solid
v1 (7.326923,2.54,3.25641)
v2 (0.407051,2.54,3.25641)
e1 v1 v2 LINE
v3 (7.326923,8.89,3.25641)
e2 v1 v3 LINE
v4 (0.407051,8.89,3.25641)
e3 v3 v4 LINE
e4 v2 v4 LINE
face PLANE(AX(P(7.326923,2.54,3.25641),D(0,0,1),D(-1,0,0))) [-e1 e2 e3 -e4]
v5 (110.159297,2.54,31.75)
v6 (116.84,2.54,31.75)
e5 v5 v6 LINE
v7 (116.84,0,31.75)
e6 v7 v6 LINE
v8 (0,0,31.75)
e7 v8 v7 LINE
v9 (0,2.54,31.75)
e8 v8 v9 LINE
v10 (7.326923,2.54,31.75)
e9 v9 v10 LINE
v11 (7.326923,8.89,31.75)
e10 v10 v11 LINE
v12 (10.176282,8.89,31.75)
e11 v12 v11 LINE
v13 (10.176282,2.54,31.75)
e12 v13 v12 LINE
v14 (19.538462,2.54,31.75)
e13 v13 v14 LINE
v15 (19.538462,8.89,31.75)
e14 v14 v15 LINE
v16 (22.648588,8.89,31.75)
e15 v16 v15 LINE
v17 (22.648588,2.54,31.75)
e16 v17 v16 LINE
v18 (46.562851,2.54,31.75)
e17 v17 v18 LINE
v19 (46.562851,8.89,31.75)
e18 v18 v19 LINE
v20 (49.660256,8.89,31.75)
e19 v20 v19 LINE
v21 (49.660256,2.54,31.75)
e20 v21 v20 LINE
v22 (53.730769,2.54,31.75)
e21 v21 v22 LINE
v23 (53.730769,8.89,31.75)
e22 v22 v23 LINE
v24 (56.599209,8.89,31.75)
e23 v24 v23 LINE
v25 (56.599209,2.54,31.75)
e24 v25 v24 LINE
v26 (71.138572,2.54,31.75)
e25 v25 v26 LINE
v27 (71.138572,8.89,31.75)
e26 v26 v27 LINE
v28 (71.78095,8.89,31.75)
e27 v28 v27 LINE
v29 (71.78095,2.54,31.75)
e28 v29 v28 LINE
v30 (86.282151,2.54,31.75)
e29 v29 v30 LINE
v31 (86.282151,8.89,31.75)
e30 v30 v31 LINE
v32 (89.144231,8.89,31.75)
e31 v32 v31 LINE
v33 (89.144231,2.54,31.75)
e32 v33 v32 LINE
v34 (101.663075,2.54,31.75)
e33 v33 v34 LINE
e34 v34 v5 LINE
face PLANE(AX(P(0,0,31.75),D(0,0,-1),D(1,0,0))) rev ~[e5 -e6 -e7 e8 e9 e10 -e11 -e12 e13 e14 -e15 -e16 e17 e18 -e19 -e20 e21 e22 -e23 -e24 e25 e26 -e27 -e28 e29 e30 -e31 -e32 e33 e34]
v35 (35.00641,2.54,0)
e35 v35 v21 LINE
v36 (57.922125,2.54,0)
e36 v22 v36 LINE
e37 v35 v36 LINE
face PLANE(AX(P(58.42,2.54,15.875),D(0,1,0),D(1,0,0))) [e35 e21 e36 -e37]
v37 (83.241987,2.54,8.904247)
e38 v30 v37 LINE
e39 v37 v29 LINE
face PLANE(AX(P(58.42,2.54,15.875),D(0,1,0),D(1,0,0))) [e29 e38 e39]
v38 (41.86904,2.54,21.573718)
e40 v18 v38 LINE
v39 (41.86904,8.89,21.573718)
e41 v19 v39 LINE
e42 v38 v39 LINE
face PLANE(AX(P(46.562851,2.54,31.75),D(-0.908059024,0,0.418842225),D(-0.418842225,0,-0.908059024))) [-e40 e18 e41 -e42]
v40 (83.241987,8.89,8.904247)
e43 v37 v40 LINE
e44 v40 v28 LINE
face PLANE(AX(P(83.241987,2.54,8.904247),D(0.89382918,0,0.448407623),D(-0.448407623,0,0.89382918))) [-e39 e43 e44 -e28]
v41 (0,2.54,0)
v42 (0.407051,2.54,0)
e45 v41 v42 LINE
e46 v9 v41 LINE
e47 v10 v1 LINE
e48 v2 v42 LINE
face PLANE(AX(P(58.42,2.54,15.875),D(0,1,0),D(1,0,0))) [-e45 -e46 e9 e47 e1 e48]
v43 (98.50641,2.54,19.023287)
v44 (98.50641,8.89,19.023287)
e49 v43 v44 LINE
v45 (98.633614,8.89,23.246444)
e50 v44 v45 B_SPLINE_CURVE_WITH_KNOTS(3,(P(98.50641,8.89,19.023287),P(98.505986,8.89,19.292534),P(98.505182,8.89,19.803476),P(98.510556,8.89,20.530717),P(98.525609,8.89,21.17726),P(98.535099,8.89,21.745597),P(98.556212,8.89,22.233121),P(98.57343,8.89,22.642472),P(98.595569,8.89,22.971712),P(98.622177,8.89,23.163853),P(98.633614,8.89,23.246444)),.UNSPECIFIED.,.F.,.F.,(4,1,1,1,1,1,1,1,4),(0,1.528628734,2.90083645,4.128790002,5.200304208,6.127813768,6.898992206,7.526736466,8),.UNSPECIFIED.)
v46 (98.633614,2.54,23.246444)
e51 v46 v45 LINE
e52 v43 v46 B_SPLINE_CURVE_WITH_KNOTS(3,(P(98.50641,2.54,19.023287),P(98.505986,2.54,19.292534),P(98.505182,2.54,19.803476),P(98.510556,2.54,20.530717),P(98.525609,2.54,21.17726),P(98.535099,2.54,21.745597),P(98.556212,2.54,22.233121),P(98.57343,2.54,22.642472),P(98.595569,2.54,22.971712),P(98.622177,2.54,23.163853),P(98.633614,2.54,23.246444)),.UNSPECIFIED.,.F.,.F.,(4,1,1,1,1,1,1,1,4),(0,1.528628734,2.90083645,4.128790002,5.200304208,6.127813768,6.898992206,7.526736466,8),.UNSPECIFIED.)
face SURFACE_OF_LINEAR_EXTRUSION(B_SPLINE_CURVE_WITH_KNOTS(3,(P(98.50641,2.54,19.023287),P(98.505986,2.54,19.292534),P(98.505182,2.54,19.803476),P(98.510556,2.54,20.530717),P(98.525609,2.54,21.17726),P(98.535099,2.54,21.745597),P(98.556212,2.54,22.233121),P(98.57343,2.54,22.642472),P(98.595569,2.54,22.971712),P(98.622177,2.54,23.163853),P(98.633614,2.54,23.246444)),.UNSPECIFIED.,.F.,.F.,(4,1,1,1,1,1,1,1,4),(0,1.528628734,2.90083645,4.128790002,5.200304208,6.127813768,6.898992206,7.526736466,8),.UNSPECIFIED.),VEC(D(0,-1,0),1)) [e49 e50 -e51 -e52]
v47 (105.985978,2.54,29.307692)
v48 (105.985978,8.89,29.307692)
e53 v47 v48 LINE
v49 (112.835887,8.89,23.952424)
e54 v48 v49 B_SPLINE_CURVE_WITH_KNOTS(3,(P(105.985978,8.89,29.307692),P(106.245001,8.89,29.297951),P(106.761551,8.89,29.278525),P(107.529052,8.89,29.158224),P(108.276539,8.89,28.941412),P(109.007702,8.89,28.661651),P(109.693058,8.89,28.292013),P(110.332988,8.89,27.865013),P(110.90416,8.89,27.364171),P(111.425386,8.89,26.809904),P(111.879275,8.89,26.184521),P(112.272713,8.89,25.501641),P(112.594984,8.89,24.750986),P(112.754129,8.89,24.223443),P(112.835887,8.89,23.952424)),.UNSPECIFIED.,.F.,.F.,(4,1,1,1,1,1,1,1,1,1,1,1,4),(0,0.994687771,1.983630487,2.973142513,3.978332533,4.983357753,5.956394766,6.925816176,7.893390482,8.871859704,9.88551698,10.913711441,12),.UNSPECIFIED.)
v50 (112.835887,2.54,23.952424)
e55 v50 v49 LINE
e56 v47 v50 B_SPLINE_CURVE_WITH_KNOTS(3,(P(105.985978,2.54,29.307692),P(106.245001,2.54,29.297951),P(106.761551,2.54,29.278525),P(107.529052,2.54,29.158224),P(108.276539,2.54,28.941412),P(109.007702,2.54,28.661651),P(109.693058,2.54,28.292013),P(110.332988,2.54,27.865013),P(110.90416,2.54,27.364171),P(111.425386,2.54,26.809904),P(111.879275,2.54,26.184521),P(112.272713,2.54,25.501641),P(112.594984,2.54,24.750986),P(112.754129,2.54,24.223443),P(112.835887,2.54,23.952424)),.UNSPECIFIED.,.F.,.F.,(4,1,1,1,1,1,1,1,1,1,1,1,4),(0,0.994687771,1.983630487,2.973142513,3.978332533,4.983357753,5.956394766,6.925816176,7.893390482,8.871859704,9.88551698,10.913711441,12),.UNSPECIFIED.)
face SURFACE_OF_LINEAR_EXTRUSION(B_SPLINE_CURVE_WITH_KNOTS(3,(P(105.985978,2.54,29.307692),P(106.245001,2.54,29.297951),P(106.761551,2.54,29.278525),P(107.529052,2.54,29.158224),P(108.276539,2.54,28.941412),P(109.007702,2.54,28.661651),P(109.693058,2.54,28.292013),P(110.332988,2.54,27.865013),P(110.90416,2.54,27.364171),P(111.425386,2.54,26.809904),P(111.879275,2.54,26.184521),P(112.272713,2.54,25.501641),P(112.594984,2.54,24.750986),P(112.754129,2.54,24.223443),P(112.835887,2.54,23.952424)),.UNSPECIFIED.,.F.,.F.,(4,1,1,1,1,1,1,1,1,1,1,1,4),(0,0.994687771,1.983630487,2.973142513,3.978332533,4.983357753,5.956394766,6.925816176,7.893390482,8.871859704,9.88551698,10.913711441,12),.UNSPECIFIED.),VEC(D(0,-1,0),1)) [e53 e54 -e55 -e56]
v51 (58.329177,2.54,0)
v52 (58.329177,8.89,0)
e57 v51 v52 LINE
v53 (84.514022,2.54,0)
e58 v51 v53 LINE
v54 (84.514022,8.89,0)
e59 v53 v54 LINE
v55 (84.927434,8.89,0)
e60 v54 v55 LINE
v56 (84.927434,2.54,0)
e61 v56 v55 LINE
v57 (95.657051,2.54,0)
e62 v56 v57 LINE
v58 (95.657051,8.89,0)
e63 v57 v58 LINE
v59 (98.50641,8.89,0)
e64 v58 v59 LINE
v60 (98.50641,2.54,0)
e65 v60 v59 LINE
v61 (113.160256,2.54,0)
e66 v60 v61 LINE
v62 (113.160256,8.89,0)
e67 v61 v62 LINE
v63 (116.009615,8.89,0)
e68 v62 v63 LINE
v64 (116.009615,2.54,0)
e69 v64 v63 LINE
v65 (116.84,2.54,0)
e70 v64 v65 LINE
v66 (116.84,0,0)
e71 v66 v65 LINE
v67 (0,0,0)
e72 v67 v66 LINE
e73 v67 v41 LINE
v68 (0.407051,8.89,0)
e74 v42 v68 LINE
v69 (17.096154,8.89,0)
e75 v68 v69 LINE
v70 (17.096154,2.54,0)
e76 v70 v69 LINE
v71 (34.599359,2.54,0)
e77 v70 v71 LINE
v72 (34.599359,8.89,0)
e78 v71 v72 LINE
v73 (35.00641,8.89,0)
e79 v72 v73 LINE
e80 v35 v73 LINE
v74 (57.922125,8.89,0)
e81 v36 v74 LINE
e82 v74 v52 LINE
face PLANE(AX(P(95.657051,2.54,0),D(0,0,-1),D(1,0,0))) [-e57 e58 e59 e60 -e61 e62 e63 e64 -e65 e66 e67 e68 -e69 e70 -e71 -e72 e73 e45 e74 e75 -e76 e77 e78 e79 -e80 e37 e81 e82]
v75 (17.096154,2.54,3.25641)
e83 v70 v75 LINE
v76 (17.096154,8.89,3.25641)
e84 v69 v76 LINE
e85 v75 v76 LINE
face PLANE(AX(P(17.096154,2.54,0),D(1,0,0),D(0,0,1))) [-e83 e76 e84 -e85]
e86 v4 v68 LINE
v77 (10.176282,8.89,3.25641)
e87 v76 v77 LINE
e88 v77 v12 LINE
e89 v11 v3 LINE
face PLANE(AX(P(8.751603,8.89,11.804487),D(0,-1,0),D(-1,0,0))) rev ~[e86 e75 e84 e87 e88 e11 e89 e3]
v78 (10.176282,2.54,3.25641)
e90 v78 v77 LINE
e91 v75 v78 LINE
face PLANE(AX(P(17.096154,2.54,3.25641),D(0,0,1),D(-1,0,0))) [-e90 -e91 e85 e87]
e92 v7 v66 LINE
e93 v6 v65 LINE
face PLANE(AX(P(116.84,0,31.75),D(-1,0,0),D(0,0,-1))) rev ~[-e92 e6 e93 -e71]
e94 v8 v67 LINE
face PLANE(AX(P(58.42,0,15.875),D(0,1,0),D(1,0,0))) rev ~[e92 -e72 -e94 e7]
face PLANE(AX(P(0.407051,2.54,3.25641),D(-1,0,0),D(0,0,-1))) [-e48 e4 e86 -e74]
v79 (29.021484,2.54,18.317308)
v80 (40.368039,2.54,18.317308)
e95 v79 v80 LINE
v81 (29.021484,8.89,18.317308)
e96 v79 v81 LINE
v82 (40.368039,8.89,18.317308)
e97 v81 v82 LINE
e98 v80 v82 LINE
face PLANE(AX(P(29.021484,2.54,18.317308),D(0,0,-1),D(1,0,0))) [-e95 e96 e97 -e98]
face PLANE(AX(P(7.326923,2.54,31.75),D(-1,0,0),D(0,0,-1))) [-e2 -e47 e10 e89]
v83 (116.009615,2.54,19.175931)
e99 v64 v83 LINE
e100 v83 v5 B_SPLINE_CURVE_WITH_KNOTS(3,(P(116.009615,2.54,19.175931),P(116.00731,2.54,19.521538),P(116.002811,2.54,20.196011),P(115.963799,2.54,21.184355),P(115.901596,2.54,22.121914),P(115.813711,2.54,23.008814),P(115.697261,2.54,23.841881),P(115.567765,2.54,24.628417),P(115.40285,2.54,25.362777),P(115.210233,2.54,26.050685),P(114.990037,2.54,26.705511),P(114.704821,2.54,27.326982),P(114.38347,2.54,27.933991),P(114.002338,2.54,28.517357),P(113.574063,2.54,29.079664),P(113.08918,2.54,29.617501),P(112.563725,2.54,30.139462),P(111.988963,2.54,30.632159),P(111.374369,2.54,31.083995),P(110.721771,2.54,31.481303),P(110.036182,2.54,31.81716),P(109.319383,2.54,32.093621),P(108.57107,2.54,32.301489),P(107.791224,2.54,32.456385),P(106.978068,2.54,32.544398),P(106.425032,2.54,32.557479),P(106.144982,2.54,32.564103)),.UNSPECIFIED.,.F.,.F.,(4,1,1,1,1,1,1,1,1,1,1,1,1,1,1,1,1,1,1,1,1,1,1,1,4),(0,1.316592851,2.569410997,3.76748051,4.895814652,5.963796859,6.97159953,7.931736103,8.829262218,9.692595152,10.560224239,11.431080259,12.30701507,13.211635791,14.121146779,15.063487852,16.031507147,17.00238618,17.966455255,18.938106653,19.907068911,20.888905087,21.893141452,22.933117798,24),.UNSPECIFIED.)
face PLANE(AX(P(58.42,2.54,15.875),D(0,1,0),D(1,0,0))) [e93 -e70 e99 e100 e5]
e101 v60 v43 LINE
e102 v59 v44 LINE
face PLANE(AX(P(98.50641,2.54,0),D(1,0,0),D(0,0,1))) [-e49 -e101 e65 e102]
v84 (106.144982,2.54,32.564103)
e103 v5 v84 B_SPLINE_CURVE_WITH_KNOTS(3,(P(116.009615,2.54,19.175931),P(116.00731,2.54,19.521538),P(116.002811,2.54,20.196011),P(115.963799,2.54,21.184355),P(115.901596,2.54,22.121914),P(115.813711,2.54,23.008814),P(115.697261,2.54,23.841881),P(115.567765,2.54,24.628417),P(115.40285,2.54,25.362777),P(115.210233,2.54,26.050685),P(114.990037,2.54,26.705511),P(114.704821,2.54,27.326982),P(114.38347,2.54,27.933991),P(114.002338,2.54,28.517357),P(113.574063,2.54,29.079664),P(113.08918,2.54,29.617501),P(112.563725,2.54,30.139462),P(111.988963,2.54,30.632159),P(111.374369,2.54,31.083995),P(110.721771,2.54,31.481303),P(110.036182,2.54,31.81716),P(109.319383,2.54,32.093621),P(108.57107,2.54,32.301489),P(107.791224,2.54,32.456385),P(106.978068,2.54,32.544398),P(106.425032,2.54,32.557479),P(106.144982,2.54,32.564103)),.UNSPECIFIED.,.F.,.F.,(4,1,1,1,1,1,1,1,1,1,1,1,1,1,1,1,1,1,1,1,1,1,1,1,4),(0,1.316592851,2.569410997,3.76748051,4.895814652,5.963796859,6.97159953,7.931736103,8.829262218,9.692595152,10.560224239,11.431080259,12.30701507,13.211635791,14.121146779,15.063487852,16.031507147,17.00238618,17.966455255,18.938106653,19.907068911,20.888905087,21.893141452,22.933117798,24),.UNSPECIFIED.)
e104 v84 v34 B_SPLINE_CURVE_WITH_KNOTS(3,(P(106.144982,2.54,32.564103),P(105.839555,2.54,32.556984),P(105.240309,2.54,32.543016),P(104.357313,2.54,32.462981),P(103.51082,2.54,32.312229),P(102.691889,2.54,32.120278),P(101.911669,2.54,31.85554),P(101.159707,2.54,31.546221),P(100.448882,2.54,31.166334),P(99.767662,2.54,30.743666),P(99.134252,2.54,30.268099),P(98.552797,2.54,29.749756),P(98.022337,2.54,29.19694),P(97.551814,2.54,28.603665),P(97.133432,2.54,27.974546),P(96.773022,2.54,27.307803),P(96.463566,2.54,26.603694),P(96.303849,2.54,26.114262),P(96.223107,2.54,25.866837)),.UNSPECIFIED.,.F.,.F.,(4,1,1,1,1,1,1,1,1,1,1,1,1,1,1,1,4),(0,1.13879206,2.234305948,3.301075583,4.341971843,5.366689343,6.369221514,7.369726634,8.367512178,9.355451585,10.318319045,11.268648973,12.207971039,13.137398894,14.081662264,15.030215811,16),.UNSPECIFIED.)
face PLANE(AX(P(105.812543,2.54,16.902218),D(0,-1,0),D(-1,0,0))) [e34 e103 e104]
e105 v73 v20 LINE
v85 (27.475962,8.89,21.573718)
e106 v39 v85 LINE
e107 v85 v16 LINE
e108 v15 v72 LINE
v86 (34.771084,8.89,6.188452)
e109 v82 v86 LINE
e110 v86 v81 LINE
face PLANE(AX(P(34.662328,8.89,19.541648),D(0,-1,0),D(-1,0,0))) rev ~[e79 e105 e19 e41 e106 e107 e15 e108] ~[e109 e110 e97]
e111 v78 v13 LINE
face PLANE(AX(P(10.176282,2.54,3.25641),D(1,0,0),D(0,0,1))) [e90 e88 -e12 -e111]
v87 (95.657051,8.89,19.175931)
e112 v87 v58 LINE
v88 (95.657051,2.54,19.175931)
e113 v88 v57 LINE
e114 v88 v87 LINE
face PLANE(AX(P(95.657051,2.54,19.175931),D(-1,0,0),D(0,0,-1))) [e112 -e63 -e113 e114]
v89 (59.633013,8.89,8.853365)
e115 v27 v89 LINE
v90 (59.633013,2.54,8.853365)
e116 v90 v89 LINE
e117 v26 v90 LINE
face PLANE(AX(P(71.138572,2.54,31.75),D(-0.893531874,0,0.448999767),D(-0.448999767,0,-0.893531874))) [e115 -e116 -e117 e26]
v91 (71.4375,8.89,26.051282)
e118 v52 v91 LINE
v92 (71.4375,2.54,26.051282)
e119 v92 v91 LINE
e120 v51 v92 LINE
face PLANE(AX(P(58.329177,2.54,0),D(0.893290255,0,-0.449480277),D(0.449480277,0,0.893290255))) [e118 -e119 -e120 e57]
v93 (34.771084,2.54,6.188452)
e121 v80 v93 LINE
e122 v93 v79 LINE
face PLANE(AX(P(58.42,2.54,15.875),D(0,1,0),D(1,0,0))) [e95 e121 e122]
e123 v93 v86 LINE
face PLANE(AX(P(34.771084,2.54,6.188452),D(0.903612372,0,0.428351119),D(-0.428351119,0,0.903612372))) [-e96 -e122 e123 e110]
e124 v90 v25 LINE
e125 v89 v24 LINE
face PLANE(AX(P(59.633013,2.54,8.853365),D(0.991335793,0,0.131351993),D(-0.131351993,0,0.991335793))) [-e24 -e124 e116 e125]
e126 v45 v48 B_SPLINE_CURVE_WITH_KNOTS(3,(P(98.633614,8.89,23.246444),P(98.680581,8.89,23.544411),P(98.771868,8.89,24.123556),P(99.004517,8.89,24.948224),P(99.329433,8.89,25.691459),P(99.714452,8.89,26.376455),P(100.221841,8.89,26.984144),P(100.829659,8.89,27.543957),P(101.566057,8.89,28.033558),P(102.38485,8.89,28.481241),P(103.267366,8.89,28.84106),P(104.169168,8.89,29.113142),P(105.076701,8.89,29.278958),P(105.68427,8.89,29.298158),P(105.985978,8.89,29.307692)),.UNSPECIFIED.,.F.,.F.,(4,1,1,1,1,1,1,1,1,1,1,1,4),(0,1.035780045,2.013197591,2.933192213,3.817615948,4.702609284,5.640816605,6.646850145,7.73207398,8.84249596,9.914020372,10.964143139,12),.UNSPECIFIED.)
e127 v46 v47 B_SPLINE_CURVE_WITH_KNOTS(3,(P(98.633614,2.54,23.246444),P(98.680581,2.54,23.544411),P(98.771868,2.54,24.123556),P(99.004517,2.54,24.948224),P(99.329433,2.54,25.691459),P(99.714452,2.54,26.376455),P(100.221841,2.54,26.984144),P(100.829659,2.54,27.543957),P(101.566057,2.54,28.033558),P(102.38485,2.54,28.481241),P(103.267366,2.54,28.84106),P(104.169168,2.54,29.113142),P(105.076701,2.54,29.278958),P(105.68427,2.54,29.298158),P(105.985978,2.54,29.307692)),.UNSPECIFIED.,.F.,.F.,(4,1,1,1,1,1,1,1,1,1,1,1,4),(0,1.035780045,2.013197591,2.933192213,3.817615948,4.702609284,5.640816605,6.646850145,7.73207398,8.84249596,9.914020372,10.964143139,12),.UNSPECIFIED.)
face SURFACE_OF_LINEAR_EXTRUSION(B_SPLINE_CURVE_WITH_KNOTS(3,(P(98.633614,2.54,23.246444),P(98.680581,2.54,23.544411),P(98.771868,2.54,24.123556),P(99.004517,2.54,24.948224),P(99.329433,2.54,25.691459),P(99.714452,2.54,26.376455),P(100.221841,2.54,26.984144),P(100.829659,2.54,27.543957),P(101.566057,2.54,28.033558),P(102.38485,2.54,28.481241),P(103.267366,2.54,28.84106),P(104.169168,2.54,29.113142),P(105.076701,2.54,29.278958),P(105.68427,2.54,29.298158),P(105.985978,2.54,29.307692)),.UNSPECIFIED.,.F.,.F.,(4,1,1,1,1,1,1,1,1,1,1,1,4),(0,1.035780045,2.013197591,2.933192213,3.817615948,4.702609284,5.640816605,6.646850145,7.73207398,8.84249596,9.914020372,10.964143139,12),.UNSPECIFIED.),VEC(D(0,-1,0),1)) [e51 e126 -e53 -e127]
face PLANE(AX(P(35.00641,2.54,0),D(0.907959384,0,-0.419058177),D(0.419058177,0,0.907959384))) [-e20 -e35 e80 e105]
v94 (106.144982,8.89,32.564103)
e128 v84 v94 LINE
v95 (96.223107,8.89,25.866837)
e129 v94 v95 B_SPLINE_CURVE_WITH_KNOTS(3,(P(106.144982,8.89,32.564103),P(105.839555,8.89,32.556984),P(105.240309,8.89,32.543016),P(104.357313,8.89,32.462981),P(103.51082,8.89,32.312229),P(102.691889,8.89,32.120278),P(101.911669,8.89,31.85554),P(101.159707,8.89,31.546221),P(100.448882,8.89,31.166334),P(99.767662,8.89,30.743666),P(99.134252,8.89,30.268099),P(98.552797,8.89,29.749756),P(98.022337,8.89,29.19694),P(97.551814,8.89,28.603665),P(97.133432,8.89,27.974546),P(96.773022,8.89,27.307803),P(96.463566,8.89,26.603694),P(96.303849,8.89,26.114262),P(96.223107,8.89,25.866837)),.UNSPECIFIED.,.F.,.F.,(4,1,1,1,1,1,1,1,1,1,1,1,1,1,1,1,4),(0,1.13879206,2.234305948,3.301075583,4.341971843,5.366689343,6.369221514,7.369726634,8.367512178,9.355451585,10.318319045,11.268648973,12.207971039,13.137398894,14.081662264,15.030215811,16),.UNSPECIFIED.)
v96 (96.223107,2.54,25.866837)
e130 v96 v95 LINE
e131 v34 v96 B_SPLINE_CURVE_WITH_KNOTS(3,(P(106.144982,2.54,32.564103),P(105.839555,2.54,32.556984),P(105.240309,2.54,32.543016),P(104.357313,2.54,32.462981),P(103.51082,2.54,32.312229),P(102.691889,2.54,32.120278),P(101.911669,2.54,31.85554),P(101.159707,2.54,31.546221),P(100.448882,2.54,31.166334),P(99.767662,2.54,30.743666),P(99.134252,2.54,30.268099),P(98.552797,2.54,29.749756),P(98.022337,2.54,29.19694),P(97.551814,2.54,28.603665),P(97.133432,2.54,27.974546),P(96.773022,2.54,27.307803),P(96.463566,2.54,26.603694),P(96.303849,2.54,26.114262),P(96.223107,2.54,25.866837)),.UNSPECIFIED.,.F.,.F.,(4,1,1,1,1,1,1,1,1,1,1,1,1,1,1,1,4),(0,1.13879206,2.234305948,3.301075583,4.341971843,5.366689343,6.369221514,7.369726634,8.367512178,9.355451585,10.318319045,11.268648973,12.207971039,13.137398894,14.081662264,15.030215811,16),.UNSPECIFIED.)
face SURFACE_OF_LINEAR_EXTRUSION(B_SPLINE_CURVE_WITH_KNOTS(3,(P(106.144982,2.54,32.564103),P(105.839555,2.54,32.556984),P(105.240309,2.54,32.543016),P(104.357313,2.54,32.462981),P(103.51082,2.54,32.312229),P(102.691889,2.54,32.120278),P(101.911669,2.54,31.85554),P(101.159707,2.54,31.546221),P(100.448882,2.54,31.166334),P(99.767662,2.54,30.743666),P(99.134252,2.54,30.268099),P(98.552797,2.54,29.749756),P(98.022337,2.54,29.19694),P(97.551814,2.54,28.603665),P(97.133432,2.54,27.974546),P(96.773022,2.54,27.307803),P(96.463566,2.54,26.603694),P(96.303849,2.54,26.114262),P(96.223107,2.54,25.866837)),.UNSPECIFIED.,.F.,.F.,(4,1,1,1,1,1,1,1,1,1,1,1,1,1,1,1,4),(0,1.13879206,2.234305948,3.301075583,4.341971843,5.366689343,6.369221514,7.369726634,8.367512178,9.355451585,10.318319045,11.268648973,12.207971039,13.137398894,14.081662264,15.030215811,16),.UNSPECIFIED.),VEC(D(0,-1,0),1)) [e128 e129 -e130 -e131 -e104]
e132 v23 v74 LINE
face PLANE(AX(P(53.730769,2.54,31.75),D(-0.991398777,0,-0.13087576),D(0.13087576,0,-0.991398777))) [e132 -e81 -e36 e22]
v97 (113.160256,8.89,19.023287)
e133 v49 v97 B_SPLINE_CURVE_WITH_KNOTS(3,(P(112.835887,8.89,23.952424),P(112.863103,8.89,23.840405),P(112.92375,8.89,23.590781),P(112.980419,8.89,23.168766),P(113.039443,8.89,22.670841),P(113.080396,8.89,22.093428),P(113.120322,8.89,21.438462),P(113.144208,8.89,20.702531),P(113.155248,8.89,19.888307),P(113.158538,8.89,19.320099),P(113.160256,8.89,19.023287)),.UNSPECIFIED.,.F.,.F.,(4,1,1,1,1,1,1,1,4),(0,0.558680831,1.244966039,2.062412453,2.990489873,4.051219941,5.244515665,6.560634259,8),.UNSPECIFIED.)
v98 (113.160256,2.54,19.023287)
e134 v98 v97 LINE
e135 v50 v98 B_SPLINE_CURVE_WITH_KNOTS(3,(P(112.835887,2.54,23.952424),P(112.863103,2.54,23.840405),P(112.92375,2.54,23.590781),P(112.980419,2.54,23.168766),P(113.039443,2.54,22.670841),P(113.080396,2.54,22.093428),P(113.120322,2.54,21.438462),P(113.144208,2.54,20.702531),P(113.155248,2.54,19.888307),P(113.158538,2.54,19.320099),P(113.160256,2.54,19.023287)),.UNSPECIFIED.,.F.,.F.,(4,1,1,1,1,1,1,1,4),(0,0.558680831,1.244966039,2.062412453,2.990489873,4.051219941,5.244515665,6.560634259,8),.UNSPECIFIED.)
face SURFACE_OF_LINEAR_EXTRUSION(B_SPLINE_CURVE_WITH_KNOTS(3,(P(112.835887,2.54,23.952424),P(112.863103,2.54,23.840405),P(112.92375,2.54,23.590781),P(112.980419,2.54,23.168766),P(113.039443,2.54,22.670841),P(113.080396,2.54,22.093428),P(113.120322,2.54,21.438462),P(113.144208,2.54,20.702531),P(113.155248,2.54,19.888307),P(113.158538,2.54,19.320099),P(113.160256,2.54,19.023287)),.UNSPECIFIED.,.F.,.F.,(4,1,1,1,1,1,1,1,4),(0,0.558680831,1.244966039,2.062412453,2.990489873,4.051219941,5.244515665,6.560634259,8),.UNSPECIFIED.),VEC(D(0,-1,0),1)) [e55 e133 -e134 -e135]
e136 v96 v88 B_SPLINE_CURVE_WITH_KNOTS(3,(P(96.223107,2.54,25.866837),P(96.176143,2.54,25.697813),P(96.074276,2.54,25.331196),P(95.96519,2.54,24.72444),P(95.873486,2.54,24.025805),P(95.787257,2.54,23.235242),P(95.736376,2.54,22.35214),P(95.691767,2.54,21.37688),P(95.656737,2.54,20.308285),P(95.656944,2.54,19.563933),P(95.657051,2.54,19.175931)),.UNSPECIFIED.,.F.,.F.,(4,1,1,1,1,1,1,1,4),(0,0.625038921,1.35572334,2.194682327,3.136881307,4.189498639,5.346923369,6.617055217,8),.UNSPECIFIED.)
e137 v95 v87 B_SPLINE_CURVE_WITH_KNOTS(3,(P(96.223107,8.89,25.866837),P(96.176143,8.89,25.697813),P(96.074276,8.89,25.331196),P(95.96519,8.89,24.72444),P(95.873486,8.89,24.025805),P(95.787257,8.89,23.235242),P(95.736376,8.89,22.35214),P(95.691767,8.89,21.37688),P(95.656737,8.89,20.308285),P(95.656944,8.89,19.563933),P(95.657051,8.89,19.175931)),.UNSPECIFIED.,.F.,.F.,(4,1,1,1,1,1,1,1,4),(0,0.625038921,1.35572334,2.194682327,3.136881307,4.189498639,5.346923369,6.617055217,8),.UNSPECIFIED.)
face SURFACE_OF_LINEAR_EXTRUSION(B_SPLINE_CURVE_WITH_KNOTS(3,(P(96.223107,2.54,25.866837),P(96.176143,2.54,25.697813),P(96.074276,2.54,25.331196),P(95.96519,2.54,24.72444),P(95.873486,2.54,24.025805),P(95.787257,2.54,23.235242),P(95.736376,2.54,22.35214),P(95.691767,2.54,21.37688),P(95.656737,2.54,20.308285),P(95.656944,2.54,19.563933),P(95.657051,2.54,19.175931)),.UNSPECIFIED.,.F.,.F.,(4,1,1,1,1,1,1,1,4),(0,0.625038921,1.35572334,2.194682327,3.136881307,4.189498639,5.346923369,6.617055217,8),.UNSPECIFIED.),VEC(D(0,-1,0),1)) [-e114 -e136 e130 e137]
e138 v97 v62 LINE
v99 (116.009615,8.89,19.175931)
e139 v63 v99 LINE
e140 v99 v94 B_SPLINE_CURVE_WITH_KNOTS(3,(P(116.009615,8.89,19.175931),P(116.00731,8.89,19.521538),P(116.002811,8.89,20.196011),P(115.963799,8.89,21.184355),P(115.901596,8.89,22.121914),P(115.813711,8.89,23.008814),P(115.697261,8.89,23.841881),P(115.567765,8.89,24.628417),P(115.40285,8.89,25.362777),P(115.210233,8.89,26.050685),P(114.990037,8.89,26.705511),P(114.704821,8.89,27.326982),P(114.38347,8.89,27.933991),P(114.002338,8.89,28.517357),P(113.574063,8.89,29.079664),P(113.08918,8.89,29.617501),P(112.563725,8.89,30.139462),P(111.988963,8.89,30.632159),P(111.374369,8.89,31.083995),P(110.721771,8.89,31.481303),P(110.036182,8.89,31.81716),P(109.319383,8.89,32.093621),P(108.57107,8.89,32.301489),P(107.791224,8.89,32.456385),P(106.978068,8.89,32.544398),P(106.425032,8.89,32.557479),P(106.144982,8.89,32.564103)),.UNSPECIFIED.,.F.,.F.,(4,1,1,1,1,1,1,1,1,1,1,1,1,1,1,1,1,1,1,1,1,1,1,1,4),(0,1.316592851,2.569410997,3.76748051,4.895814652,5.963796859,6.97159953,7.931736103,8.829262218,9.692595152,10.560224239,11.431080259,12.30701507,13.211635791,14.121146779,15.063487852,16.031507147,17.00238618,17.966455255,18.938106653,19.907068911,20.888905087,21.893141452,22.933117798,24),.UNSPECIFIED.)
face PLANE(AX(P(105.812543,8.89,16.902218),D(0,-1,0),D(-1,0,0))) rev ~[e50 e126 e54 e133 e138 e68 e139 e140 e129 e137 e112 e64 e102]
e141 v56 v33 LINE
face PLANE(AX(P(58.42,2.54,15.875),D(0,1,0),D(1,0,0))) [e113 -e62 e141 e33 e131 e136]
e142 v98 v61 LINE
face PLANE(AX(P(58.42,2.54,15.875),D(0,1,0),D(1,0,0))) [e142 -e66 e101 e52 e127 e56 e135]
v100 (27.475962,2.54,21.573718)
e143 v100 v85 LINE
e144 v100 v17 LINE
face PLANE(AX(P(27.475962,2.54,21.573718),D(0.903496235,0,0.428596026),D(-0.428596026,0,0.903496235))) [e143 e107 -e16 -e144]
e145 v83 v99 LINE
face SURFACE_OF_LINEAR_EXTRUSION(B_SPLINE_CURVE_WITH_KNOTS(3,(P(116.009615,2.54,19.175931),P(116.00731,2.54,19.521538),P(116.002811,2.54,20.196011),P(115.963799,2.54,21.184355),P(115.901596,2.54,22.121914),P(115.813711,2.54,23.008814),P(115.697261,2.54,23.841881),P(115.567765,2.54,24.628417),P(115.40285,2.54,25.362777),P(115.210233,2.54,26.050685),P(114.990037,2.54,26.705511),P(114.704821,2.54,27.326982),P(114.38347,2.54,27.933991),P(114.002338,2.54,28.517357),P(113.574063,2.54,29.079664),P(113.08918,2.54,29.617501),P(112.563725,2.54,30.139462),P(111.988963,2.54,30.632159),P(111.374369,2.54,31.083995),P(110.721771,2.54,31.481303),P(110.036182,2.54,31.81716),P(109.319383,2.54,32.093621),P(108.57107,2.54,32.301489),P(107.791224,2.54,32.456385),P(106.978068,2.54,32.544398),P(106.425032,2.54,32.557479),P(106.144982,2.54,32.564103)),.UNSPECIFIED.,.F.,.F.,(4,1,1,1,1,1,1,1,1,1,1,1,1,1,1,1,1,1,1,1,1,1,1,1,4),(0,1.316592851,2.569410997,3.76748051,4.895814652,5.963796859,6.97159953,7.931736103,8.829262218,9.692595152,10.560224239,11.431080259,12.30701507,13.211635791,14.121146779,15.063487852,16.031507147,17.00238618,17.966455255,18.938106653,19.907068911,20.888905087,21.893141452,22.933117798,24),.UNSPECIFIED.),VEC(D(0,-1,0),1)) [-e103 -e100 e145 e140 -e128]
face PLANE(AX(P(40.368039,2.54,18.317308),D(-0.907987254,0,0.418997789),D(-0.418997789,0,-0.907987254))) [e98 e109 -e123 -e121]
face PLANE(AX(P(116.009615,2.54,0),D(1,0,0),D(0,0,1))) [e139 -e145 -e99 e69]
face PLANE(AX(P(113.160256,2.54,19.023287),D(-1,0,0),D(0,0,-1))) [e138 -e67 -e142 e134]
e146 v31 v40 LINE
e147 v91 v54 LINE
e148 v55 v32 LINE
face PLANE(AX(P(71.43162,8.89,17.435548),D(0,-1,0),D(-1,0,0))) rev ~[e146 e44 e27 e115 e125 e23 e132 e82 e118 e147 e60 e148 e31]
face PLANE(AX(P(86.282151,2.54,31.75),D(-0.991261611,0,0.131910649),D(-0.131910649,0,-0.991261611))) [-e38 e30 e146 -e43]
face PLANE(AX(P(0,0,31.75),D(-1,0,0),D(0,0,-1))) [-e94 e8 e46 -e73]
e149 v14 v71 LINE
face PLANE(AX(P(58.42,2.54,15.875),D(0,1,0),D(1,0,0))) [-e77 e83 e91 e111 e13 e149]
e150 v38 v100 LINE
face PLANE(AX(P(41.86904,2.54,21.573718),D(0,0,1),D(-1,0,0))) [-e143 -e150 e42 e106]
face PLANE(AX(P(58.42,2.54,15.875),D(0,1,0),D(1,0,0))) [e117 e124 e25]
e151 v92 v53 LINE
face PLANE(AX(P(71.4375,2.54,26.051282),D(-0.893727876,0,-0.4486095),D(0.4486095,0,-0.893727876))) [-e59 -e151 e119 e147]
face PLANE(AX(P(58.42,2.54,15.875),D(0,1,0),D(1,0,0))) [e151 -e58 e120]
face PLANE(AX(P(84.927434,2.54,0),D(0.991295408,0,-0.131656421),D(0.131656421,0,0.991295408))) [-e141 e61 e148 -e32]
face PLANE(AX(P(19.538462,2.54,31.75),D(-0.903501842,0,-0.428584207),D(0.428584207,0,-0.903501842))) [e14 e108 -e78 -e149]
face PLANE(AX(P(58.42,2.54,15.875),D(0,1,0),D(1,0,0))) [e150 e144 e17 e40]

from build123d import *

# Parameters (mm, degrees)
SKETCH2_W           = 116.84
SKETCH2_H           = 31.75
BOSS_EXTRUDE2_DEPTH = 2.54
BOSS_EXTRUDE5_DEPTH = 6.35


with BuildPart() as part:
    # Sketch2 → Boss-Extrude2 (new body)
    with BuildSketch(Plane(origin=(0, 0, 0), x_dir=(1, 0, 0), z_dir=(0, 1, 0))):
        with Locations((58.42, -15.875)):
            Rectangle(SKETCH2_W, SKETCH2_H)
    extrude(amount=BOSS_EXTRUDE2_DEPTH)

    # Sketch6 → Boss-Extrude5 (add)
    # profile 1 of 4: a face of its own
    with BuildSketch(Plane(origin=(0, 2.54, 0), x_dir=(1, 0, 0), z_dir=(0, 1, 0))):
        Polygon((0.407051282, -3.256410256), (0.407051282, 0), (17.096153846, 0), (17.096153846, -3.256410256), (10.176282051, -3.256410256), (10.176282051, -31.75), (7.326923077, -31.75), (7.326923077, -3.256410256), align=None)
    # profile 2 of 4: a face of its own
    with BuildSketch(Plane(origin=(0, 2.54, 0), x_dir=(1, 0, 0), z_dir=(0, 1, 0))):
        Polygon((35.006410256, 0), (49.66025641, -31.75), (46.562850561, -31.75), (41.869040465, -21.573717949), (27.475961538, -21.573717949), (22.64858774, -31.75), (19.538461538, -31.75), (34.599358974, 0), align=None)
        Polygon((34.771083734, -6.188451522), (29.021484375, -18.317307692), (40.368038862, -18.317307692), align=None, mode=Mode.SUBTRACT)
    # profile 3 of 4: a face of its own
    with BuildSketch(Plane(origin=(0, 2.54, 0), x_dir=(1, 0, 0), z_dir=(0, 1, 0))):
        Polygon((53.730769231, -31.75), (57.922125401, 0), (58.329176683, 0), (71.4375, -26.051282051), (84.514022436, 0), (84.927433894, 0), (89.144230769, -31.75), (86.282151442, -31.75), (83.241987179, -8.904246795), (71.780949519, -31.75), (71.138571715, -31.75), (59.633012821, -8.853365385), (56.599208734, -31.75), align=None)
    # profile 4 of 4: a face of its own
    with BuildSketch(Plane(origin=(0, 2.54, 0), x_dir=(1, 0, 0), z_dir=(0, 1, 0))):
        with BuildLine():
            Line((95.657051282, 0), (98.506410256, 0))
            Line((98.506410256, 0), (98.506410256, -19.02328726))
            add(Edge.make_bspline(
                [(98.506410256, -19.02328726), (98.505986222, -19.292533934), (98.505181543, -19.803475897), (98.51055649, -20.530716909), (98.525609332, -21.177259931), (98.535099494, -21.745597155), (98.556211734, -22.23312065), (98.573429731, -22.642471683), (98.595569067, -22.971711948), (98.622176633, -23.163853206), (98.633613782, -23.246444311)],
                knots=[0, 0, 0, 0, 1.528628734, 2.90083645, 4.128790002, 5.200304208, 6.127813768, 6.898992206, 7.526736466, 8, 8, 8, 8], degree=3))
            add(Edge.make_bspline(
                [(98.633613782, -23.246444311), (98.68058073, -23.544411378), (98.771868206, -24.123556136), (99.00451749, -24.948224121), (99.329433392, -25.691459492), (99.714452422, -26.376454776), (100.221841111, -26.984143971), (100.829658895, -27.543956821), (101.566057224, -28.033558192), (102.384849861, -28.481240556), (103.267365944, -28.841059518), (104.169168146, -29.11314218), (105.076700886, -29.278957914), (105.684270383, -29.298157946), (105.985977564, -29.307692308)],
                knots=[0, 0, 0, 0, 1.035780045, 2.013197591, 2.933192213, 3.817615948, 4.702609284, 5.640816605, 6.646850145, 7.73207398, 8.84249596, 9.914020372, 10.964143139, 12, 12, 12, 12], degree=3))
            add(Edge.make_bspline(
                [(105.985977564, -29.307692308), (106.245000781, -29.297950952), (106.761551163, -29.278524503), (107.529052356, -29.158224378), (108.276539056, -28.941412104), (109.007702367, -28.661651438), (109.693057725, -28.292012576), (110.332987521, -27.865012818), (110.904160353, -27.3641713), (111.425386476, -26.809903889), (111.879274822, -26.184521418), (112.272713036, -25.501641166), (112.594983969, -24.750986376), (112.754128801, -24.223442688), (112.83588742, -23.952423878)],
                knots=[0, 0, 0, 0, 0.994687771, 1.983630487, 2.973142513, 3.978332533, 4.983357753, 5.956394766, 6.925816176, 7.893390482, 8.871859704, 9.88551698, 10.913711441, 12, 12, 12, 12], degree=3))
            add(Edge.make_bspline(
                [(112.83588742, -23.952423878), (112.863102842, -23.840404668), (112.923749771, -23.590780724), (112.980419393, -23.16876616), (113.039442874, -22.670841216), (113.080396473, -22.093428342), (113.12032183, -21.438462376), (113.144207562, -20.702531326), (113.155247789, -19.888307468), (113.158537818, -19.320098929), (113.16025641, -19.02328726)],
                knots=[0, 0, 0, 0, 0.558680831, 1.244966039, 2.062412453, 2.990489873, 4.051219941, 5.244515665, 6.560634259, 8, 8, 8, 8], degree=3))
            Line((113.16025641, -19.02328726), (113.16025641, 0))
            Line((113.16025641, 0), (116.009615385, 0))
            Line((116.009615385, 0), (116.009615385, -19.17593149))
            add(Edge.make_bspline(
                [(116.009615385, -19.17593149), (116.00731015, -19.521538214), (116.002811344, -20.196010747), (115.963798971, -21.184355218), (115.901596187, -22.121914406), (115.813711389, -23.008814339), (115.697261431, -23.841881355), (115.567764788, -24.628417466), (115.402850453, -25.362776756), (115.21023317, -26.050685116), (114.990037413, -26.705510845), (114.704821282, -27.32698185), (114.383470461, -27.933991046), (114.002337538, -28.517357463), (113.574062853, -29.079664052), (113.089179749, -29.617500661), (112.563724861, -30.139462009), (111.988963142, -30.632159109), (111.374369091, -31.083994964), (110.721770904, -31.481303316), (110.036181635, -31.817160417), (109.31938342, -32.093620589), (108.571070365, -32.301488739), (107.791223602, -32.456384795), (106.978068062, -32.544398494), (106.425031538, -32.557478859), (106.144981971, -32.564102564)],
                knots=[0, 0, 0, 0, 1.316592851, 2.569410997, 3.76748051, 4.895814652, 5.963796859, 6.97159953, 7.931736103, 8.829262218, 9.692595152, 10.560224239, 11.431080259, 12.30701507, 13.211635791, 14.121146779, 15.063487852, 16.031507147, 17.00238618, 17.966455255, 18.938106653, 19.907068911, 20.888905087, 21.893141452, 22.933117798, 24, 24, 24, 24], degree=3))
            add(Edge.make_bspline(
                [(106.144981971, -32.564102564), (105.839555112, -32.556983622), (105.240308706, -32.543016283), (104.357313382, -32.462981336), (103.510820315, -32.312228759), (102.691889145, -32.120277841), (101.911669207, -31.855539652), (101.159707247, -31.546220948), (100.448882068, -31.166334373), (99.767661973, -30.743665736), (99.134251685, -30.268099376), (98.552796671, -29.749756369), (98.022336988, -29.196940088), (97.551813814, -28.603665342), (97.133431504, -27.974546285), (96.773021711, -27.307803182), (96.463565853, -26.603694171), (96.303849138, -26.114261567), (96.223106971, -25.866836939)],
                knots=[0, 0, 0, 0, 1.13879206, 2.234305948, 3.301075583, 4.341971843, 5.366689343, 6.369221514, 7.369726634, 8.367512178, 9.355451585, 10.318319045, 11.268648973, 12.207971039, 13.137398894, 14.081662264, 15.030215811, 16, 16, 16, 16], degree=3))
            add(Edge.make_bspline(
                [(96.223106971, -25.866836939), (96.176142751, -25.697812871), (96.07427631, -25.331195903), (95.965189682, -24.724439899), (95.87348587, -24.025804575), (95.787256877, -23.235242108), (95.736375616, -22.352139747), (95.691767422, -21.376880296), (95.656737023, -20.308284501), (95.656943601, -19.563932823), (95.657051282, -19.17593149)],
                knots=[0, 0, 0, 0, 0.625038921, 1.35572334, 2.194682327, 3.136881307, 4.189498639, 5.346923369, 6.617055217, 8, 8, 8, 8], degree=3))
            Line((95.657051282, -19.17593149), (95.657051282, 0))
        make_face()
    extrude(amount=BOSS_EXTRUDE5_DEPTH)


solid = part.part
